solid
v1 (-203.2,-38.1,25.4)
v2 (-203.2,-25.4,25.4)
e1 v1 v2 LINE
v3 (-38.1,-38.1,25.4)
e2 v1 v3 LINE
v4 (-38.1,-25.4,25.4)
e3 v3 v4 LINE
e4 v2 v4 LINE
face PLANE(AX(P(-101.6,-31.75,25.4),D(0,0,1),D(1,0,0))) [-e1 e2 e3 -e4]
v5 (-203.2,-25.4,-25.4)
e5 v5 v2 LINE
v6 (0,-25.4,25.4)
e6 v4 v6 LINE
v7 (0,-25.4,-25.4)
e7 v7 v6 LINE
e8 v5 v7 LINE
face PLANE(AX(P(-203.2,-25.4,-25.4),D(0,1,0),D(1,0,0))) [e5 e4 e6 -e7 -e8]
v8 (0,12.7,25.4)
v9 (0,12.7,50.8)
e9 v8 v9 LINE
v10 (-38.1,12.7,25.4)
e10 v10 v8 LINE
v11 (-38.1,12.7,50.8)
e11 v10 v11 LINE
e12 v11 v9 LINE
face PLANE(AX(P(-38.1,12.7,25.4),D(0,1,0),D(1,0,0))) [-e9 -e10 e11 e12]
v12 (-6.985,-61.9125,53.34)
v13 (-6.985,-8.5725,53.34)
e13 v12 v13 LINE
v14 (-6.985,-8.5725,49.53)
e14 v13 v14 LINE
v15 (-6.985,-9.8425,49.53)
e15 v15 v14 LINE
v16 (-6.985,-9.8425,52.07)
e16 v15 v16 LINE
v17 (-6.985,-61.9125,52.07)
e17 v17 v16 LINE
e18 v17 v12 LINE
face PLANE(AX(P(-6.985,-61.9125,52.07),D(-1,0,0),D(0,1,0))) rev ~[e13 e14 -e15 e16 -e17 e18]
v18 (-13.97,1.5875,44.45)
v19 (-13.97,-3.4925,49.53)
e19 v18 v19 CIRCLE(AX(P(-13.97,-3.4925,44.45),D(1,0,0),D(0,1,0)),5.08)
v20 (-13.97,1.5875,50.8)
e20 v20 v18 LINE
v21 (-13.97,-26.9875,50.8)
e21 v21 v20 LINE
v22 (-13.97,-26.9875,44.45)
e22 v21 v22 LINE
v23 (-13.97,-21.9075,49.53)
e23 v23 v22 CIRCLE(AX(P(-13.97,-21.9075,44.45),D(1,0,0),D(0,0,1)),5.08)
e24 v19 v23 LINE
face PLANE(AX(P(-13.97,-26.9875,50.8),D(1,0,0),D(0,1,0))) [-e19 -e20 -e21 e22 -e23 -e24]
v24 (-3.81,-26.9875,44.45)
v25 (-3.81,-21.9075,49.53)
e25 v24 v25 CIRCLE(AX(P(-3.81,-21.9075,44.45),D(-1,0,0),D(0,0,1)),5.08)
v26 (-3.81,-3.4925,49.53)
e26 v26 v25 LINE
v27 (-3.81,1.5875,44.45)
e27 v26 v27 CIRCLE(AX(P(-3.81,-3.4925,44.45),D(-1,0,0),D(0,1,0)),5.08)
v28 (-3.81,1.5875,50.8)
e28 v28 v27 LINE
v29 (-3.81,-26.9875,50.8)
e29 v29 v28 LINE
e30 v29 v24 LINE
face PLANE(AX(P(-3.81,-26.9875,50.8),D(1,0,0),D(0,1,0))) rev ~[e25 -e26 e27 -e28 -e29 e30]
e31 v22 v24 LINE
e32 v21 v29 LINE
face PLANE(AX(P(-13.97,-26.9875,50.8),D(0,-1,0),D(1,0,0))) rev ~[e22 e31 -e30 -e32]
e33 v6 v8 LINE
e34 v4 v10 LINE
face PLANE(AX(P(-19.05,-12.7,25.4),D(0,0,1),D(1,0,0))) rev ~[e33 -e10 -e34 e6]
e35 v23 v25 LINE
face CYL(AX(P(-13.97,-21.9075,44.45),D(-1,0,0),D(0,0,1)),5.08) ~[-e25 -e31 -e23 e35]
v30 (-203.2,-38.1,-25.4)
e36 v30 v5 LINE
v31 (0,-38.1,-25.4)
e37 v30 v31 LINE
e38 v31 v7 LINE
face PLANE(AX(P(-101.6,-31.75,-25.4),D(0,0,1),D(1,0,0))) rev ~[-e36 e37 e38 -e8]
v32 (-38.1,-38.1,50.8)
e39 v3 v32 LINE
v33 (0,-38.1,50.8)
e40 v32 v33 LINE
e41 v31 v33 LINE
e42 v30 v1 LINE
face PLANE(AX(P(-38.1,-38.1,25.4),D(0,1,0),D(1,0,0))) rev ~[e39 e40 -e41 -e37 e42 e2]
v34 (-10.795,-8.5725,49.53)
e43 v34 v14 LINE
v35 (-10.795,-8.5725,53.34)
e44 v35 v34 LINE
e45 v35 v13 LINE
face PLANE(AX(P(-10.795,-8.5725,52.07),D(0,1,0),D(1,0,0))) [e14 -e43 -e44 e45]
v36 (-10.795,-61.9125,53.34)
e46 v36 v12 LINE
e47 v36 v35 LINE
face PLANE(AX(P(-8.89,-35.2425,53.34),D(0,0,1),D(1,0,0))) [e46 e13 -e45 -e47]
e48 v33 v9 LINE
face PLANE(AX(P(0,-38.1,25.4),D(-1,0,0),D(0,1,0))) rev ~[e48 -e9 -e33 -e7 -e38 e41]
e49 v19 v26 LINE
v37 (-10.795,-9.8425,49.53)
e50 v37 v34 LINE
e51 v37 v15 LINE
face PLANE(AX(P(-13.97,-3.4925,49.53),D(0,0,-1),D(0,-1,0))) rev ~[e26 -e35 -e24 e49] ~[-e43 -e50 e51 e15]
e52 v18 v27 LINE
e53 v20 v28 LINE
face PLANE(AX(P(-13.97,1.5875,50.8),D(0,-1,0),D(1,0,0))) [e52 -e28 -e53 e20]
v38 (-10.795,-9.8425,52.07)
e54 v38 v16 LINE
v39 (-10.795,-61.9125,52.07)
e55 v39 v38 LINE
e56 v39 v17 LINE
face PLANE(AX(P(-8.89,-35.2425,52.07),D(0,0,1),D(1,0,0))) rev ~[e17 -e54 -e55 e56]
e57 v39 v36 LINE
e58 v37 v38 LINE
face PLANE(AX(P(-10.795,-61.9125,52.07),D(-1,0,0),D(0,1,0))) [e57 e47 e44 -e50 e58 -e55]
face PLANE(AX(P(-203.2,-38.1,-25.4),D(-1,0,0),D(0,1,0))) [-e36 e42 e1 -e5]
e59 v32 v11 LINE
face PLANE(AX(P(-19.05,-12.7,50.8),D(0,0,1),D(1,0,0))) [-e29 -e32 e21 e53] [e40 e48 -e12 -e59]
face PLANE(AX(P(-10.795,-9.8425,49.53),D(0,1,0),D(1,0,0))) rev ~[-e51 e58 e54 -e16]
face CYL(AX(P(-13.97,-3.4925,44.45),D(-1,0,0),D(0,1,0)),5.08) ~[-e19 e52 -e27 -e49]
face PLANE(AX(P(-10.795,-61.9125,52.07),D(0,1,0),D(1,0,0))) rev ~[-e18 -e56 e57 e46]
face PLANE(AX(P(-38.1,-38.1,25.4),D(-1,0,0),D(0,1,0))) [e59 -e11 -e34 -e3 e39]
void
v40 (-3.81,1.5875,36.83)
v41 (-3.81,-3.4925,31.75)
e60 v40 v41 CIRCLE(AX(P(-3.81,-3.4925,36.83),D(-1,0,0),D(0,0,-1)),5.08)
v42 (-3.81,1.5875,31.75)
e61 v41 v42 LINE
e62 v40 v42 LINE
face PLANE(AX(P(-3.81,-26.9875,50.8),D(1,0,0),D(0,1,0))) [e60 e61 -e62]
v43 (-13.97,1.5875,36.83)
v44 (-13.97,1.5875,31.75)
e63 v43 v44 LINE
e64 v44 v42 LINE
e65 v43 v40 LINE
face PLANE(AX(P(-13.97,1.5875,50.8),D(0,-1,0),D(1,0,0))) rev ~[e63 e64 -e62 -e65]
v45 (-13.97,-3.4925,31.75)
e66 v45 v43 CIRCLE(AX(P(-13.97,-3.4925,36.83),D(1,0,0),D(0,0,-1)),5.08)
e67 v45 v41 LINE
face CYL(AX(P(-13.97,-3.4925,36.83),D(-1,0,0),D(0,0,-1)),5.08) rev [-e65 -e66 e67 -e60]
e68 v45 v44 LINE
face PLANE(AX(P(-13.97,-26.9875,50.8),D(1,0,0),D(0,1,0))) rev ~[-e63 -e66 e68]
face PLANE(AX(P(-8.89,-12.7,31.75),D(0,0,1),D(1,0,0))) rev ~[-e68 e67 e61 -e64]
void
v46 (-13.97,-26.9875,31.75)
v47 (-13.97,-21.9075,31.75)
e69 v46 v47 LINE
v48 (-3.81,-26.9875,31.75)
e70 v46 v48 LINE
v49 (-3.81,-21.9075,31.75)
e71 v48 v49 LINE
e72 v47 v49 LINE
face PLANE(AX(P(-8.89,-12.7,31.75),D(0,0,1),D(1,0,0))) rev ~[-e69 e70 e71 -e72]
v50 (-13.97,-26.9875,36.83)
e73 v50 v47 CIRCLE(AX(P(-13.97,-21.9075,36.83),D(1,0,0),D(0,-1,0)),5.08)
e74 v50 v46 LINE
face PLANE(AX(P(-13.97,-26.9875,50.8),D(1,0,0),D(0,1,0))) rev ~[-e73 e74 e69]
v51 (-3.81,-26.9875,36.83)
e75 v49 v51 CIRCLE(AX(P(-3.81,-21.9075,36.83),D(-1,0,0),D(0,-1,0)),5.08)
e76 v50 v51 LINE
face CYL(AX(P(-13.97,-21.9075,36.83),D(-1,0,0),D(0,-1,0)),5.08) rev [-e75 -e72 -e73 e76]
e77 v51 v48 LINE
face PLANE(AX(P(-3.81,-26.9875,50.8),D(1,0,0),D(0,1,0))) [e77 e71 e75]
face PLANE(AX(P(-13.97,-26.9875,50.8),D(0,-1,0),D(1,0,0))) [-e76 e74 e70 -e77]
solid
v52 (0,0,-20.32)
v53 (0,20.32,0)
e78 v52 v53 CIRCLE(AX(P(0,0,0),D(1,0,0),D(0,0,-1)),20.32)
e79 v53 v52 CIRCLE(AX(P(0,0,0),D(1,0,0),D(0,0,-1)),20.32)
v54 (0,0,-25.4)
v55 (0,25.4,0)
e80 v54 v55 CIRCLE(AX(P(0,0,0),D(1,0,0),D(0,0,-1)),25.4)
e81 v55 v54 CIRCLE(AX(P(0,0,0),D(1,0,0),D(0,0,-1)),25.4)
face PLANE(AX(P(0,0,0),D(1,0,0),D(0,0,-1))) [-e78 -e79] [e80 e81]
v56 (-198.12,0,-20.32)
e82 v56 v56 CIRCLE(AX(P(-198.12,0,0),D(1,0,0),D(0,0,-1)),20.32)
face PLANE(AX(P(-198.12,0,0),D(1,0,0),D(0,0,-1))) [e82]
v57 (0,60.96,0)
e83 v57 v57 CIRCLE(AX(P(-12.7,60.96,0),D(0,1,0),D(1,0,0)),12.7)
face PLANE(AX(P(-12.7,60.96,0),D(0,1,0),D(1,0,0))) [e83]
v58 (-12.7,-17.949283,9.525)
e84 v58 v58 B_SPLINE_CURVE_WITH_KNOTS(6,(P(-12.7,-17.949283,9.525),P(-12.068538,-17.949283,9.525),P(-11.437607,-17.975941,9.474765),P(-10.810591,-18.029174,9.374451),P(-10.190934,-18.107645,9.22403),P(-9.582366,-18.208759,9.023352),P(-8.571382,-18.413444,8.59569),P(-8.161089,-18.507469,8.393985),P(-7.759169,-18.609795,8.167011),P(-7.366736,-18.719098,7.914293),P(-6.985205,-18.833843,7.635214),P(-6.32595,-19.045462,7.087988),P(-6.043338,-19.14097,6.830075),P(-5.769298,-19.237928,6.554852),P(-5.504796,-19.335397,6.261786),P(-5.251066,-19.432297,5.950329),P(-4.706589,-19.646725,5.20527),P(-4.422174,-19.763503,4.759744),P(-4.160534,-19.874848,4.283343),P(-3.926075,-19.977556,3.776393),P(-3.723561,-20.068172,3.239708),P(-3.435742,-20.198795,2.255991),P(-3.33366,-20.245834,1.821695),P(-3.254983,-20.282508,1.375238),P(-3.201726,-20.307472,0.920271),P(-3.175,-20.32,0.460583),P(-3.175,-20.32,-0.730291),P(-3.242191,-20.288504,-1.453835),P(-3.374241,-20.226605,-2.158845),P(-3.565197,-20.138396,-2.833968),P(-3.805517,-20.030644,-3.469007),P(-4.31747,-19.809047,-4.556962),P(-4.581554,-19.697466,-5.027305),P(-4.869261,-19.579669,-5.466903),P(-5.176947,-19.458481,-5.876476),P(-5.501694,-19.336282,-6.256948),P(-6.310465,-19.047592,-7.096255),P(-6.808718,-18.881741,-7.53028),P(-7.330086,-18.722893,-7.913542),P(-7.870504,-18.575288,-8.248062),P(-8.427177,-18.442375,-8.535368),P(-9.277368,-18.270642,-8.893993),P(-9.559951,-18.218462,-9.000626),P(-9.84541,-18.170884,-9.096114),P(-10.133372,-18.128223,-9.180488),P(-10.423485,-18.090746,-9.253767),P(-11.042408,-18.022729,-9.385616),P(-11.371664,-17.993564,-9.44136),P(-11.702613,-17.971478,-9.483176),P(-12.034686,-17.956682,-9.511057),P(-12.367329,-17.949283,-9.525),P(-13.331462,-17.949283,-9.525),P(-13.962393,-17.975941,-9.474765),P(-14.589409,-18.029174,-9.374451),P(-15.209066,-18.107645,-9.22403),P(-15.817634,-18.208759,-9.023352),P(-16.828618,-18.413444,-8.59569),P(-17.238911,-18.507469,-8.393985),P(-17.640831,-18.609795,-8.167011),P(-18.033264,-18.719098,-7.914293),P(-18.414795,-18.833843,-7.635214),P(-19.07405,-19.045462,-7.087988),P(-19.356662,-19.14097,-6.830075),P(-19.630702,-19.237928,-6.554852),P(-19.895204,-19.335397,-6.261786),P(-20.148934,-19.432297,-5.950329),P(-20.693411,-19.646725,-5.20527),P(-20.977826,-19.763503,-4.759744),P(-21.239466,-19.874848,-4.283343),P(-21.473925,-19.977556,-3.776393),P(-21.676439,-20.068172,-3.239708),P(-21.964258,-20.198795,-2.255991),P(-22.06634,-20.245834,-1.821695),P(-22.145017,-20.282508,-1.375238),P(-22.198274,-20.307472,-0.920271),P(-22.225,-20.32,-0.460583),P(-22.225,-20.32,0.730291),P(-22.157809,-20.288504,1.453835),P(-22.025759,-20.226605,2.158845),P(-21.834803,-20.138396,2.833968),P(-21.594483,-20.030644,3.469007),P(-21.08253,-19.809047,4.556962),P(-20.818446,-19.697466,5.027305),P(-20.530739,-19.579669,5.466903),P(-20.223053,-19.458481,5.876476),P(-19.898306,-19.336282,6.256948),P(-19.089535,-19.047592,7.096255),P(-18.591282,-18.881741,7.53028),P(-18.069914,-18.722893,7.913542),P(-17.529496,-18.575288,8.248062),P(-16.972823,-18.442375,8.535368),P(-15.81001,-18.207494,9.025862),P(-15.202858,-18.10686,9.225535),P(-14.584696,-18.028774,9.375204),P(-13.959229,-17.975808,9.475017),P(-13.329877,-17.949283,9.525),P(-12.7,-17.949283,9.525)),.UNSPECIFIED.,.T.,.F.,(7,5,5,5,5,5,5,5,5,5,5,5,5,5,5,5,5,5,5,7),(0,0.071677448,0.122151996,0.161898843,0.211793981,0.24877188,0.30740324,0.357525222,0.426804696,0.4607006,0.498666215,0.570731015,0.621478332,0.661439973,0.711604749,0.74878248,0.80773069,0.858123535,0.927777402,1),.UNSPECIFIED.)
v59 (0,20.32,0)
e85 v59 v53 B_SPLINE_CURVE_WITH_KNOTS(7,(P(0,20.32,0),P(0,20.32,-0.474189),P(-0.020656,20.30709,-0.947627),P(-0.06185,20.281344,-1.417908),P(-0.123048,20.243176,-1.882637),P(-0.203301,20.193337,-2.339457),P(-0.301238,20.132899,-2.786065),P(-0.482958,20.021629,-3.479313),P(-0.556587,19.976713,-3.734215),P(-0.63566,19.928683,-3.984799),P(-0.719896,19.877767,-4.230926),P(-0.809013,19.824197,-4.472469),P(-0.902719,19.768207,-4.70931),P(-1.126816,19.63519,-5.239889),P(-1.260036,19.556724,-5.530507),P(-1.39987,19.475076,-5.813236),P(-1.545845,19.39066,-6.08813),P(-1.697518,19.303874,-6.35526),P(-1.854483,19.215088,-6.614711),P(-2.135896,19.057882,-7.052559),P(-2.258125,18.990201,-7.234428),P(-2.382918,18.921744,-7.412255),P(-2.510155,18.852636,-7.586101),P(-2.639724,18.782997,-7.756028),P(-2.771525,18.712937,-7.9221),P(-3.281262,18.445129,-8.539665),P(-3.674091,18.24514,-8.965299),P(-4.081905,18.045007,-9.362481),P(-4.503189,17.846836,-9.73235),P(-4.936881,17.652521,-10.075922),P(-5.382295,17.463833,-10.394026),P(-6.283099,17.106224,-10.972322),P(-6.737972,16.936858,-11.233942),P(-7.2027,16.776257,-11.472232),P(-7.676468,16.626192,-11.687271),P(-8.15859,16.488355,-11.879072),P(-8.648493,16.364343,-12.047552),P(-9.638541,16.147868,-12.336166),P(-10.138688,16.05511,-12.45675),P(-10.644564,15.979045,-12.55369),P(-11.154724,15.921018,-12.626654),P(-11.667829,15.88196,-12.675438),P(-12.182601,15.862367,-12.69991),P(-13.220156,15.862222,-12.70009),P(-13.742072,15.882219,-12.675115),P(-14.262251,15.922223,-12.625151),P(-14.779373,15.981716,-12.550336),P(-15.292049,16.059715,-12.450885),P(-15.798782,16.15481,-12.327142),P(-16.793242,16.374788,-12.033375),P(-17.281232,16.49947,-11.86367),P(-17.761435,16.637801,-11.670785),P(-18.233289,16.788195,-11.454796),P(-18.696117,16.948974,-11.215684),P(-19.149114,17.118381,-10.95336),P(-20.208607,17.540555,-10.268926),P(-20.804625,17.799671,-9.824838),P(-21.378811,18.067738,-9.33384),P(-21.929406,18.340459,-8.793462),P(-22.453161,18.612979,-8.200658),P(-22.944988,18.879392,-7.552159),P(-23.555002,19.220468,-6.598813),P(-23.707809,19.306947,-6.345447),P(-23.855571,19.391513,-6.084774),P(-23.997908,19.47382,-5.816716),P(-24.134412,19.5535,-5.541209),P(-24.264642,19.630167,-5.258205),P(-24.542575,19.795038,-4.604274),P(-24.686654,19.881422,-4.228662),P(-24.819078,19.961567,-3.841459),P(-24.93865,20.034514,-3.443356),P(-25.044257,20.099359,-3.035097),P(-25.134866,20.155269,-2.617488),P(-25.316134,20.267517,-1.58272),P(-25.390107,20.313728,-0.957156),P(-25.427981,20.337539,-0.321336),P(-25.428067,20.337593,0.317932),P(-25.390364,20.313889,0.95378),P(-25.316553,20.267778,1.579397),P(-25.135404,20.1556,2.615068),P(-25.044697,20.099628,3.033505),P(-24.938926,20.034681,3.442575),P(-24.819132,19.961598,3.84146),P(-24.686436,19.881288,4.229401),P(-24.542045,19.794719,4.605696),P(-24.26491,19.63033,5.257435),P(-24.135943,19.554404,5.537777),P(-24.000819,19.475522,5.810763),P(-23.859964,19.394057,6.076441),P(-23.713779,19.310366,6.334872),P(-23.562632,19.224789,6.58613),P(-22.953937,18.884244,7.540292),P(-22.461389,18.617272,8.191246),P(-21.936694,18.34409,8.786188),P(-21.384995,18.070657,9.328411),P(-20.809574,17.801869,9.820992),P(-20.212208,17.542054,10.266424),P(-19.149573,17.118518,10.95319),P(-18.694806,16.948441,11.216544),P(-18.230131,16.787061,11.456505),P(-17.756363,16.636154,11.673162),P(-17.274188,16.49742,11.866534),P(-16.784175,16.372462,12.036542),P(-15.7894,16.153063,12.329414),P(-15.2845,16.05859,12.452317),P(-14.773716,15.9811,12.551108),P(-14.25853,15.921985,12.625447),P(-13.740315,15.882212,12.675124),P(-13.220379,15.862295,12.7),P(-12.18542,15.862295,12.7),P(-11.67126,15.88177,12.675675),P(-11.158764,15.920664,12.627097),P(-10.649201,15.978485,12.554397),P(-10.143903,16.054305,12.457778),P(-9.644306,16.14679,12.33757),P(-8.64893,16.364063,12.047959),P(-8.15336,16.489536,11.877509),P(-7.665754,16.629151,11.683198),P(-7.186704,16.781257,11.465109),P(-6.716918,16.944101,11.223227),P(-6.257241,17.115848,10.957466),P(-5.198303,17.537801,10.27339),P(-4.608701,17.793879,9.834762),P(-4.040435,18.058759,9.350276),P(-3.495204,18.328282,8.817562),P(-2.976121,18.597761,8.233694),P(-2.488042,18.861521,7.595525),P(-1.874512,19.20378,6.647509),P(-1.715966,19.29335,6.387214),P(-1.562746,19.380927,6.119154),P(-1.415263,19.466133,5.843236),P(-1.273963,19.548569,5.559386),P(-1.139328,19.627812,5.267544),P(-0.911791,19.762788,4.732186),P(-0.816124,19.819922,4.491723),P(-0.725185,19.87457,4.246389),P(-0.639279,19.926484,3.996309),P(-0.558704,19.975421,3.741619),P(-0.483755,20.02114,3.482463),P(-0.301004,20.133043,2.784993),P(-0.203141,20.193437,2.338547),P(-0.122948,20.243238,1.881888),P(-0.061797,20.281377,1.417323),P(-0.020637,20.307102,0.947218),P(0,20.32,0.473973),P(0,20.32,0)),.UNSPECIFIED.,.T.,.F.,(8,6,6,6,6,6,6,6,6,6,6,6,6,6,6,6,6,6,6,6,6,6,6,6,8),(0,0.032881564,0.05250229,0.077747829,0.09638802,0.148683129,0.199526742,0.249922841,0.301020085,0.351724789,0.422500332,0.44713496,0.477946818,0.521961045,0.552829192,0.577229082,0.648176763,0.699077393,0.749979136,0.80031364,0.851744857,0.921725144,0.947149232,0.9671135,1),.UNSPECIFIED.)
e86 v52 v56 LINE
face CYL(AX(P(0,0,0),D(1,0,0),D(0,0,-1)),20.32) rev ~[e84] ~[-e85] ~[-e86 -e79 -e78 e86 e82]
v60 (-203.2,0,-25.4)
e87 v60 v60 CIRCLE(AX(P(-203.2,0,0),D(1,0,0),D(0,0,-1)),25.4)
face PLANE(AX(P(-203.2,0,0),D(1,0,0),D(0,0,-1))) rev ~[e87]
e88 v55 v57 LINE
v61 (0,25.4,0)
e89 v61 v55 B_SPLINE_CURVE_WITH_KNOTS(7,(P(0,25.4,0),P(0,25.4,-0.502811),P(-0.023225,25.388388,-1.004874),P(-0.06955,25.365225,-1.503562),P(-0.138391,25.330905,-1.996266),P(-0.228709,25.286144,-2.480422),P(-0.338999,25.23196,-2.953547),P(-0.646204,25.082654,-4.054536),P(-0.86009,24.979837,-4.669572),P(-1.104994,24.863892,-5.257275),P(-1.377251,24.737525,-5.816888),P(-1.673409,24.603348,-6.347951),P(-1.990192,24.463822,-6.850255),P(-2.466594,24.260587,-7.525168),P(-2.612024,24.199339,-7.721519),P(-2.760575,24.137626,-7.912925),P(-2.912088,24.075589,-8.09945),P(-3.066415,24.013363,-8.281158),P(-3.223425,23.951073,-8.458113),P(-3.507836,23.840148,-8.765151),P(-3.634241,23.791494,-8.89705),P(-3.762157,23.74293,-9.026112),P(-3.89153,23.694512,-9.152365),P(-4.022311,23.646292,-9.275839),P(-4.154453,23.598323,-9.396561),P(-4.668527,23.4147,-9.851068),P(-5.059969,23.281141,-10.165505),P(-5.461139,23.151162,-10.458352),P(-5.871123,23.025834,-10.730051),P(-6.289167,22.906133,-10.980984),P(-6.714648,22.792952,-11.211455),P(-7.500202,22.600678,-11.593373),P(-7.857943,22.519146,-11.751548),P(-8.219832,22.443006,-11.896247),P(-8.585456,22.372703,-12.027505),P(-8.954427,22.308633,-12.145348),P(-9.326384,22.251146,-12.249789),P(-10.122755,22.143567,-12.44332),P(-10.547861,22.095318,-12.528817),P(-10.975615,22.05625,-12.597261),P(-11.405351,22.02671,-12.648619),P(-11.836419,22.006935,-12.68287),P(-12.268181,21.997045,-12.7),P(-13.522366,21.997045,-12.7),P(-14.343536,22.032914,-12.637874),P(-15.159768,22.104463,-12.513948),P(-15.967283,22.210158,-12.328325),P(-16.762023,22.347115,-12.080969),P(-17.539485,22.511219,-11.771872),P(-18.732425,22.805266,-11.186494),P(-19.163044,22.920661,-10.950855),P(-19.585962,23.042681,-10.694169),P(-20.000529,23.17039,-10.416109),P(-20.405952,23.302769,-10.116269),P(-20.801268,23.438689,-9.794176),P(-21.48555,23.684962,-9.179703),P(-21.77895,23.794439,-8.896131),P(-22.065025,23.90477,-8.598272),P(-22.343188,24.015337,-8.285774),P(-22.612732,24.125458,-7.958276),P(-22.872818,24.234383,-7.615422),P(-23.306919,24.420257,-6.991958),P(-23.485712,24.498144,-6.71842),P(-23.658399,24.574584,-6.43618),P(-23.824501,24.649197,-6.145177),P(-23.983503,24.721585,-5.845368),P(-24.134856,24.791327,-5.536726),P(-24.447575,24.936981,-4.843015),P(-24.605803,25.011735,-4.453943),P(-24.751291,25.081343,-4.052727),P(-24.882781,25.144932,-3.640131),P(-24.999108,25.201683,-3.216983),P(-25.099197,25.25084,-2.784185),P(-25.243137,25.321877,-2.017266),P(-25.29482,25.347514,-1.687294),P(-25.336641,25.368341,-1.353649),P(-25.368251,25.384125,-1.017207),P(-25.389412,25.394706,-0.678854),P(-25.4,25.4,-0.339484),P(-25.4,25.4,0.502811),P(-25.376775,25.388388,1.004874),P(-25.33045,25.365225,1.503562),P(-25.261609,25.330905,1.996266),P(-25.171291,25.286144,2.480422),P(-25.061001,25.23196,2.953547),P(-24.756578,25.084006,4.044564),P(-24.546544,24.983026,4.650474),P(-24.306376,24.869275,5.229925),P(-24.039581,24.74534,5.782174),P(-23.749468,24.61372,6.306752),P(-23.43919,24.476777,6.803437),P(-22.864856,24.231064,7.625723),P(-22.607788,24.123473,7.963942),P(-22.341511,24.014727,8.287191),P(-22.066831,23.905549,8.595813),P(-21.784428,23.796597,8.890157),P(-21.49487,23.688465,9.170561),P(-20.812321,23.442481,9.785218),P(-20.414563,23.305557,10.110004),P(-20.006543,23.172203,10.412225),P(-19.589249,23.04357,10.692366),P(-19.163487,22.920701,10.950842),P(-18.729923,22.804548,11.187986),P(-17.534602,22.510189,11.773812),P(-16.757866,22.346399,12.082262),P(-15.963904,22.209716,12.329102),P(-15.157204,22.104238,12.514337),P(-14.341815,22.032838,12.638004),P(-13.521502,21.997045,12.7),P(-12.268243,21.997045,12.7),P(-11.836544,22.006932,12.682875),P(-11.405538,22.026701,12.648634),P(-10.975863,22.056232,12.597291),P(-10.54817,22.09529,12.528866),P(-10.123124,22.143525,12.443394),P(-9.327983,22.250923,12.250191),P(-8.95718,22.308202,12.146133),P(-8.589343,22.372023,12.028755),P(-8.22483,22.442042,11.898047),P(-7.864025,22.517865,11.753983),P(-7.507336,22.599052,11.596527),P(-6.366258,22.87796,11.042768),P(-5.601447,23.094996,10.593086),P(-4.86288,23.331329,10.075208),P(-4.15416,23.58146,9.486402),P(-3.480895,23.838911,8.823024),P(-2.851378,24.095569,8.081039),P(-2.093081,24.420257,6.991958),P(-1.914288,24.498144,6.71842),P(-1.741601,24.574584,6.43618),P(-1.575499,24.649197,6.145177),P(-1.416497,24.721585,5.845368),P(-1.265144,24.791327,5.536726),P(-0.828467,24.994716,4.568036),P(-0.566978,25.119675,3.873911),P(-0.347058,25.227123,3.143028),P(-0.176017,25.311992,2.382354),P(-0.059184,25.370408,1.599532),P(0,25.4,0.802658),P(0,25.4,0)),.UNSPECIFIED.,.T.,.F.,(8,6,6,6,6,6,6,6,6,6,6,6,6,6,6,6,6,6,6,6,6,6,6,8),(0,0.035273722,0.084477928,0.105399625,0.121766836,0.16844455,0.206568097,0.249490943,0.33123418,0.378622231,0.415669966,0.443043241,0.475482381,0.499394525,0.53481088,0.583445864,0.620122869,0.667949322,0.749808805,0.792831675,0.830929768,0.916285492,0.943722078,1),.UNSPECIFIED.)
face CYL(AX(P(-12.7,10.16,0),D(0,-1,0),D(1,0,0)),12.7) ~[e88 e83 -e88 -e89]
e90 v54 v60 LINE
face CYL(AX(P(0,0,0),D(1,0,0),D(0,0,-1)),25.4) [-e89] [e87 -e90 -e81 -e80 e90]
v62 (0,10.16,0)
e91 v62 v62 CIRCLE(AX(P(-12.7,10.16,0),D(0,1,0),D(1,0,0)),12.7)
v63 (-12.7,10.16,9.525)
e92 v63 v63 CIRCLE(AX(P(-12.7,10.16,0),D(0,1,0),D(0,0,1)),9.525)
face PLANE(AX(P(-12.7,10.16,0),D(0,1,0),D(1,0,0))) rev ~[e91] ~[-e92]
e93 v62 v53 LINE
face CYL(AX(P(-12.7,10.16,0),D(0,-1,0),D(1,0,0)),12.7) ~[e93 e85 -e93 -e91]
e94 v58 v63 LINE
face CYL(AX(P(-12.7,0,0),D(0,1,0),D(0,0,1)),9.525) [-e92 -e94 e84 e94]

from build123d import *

# Parameters (mm, degrees)
SKETCH3_R                       = 25.4
BOSS_EXTRUDE1_DEPTH             = 203.2
SHELL1_T                        = -5.08
BOSS_EXTRUDE2_DEPTH             = 25.4
BOSS_EXTRUDE2_DEPTH_BACK        = 25.4
SKETCH4_W                       = 203.2
SKETCH4_H                       = 12.7
SKETCH5_W                       = 38.1
SKETCH5_H                       = 50.8
BOSS_EXTRUDE3_DEPTH             = 25.4
SKETCH6_W                       = 10.16
SKETCH6_H                       = 28.575
CUT_EXTRUDE1_DEPTH              = 19.05
BOSS_EXTRUDE4_REACH             = 201.6
SKETCH8_W                       = 3.81
SKETCH8_H                       = 1.27
BOSS_EXTRUDE5_DEPTH             = 2.54
SKETCH10_W                      = 3.81
SKETCH10_H                      = 53.34
BOSS_EXTRUDE6_DEPTH             = 1.27
SKETCH11_R                      = 9.525
BOSS_EXTRUDE7_DEPTH             = 10.16
BOSS_EXTRUDE7_DIRECTION_2_REACH = 221.017
SKETCH12_R                      = 12.7
BOSS_EXTRUDE8_DEPTH             = 50.8


with BuildPart() as part:
    # Sketch3 → Boss-Extrude1 (new body)
    with BuildSketch(Plane(origin=(0, 0, 0), x_dir=(0, 0, -1), z_dir=(1, 0, 0))):
        Circle(SKETCH3_R)
    extrude(amount=-BOSS_EXTRUDE1_DEPTH)

    # Shell1
    shell1_openings = [part.faces().sort_by_distance(p)[0] for p in [
        (0, 0, 0),
    ]]
    offset(amount=SHELL1_T, openings=shell1_openings, kind=Kind.INTERSECTION)

    # Sketch11 → Boss-Extrude7 (add)
    with BuildSketch(Plane(origin=(0, 0, 0), x_dir=(1, 0, 0), z_dir=(0, 1, 0))):
        with Locations((-12.7, 0)):
            Circle(SKETCH11_R)
    extrude(amount=BOSS_EXTRUDE7_DEPTH)

    # Sketch11 → Boss-Extrude7 direction 2 (add, up to next)
    with BuildSketch(Plane(origin=(0, 0, 0), x_dir=(1, 0, 0), z_dir=(0, 1, 0)), mode=Mode.PRIVATE) as boss_extrude7_direction_2_sk1:
        with Locations((-12.7, 0)):
            Circle(SKETCH11_R)
    boss_extrude7_direction_2_tool1 = extrude(boss_extrude7_direction_2_sk1.sketch, amount=-BOSS_EXTRUDE7_DIRECTION_2_REACH, mode=Mode.PRIVATE) - part.part
    add(boss_extrude7_direction_2_tool1.solids().sort_by_distance((-12.7, 0, 0))[0])

    # Sketch12 → Boss-Extrude8 (add)
    with BuildSketch(Plane(origin=(0, 10.16, 0), x_dir=(1, 0, 0), z_dir=(0, 1, 0))):
        with Locations((-12.7, 0)):
            Circle(SKETCH12_R)
    extrude(amount=BOSS_EXTRUDE8_DEPTH)


with BuildPart() as body_2:
    # Sketch4 → Boss-Extrude2 (new, two sides: drawn at the far end of the back side and taken through both)
    with BuildSketch(Plane.XY.offset(-BOSS_EXTRUDE2_DEPTH_BACK)):
        with Locations((-101.6, -31.75)):
            Rectangle(SKETCH4_W, SKETCH4_H)
    extrude(amount=BOSS_EXTRUDE2_DEPTH + BOSS_EXTRUDE2_DEPTH_BACK)

    # Sketch5 → Boss-Extrude3 (add)
    with BuildSketch(Plane.XY.offset(25.4)):
        with Locations((-19.05, -12.7)):
            Rectangle(SKETCH5_W, SKETCH5_H)
    extrude(amount=BOSS_EXTRUDE3_DEPTH)

    # Sketch6 → Cut-Extrude1 (cut)
    with BuildSketch(Plane.XY.offset(50.8)):
        with Locations((-8.89, -12.7)):
            Rectangle(SKETCH6_W, SKETCH6_H)
    extrude(amount=-CUT_EXTRUDE1_DEPTH, mode=Mode.SUBTRACT)

    # Sketch7 → Boss-Extrude4 (add, up to next)
    with BuildSketch(Plane(origin=(-13.97, 0, 0), x_dir=(0, 0, -1), z_dir=(1, 0, 0)), mode=Mode.PRIVATE) as boss_extrude4_sk1:
        with BuildLine():
            Line((-44.45, -26.9875), (-36.83, -26.9875))
            ThreePointArc((-36.83, -26.9875), (-33.237897552, -25.499602448), (-31.75, -21.9075))
            Line((-31.75, -21.9075), (-31.75, -3.4925))
            ThreePointArc((-31.75, -3.4925), (-33.237897552, 0.099602448), (-36.83, 1.5875))
            Line((-36.83, 1.5875), (-44.45, 1.5875))
            ThreePointArc((-44.45, 1.5875), (-48.042102448, 0.099602448), (-49.53, -3.4925))
            Line((-49.53, -3.4925), (-49.53, -21.9075))
            ThreePointArc((-49.53, -21.9075), (-48.042102448, -25.499602448), (-44.45, -26.9875))
        make_face()
    boss_extrude4_tool1 = extrude(boss_extrude4_sk1.sketch, amount=BOSS_EXTRUDE4_REACH, mode=Mode.PRIVATE) - body_2.part
    add(boss_extrude4_tool1.solids().sort_by_distance((-13.97, -12.7, 40.64))[0])

    # Sketch8 → Boss-Extrude5 (add)
    with BuildSketch(Plane.XY.offset(49.53)):
        with Locations((-8.89, -9.2075)):
            Rectangle(SKETCH8_W, SKETCH8_H)
    extrude(amount=BOSS_EXTRUDE5_DEPTH)

    # Sketch10 → Boss-Extrude6 (add)
    with BuildSketch(Plane.XY.offset(52.07)):
        with Locations((-8.89, -35.2425)):
            Rectangle(SKETCH10_W, SKETCH10_H)
    extrude(amount=BOSS_EXTRUDE6_DEPTH)


solid = Compound([part.part, body_2.part])
